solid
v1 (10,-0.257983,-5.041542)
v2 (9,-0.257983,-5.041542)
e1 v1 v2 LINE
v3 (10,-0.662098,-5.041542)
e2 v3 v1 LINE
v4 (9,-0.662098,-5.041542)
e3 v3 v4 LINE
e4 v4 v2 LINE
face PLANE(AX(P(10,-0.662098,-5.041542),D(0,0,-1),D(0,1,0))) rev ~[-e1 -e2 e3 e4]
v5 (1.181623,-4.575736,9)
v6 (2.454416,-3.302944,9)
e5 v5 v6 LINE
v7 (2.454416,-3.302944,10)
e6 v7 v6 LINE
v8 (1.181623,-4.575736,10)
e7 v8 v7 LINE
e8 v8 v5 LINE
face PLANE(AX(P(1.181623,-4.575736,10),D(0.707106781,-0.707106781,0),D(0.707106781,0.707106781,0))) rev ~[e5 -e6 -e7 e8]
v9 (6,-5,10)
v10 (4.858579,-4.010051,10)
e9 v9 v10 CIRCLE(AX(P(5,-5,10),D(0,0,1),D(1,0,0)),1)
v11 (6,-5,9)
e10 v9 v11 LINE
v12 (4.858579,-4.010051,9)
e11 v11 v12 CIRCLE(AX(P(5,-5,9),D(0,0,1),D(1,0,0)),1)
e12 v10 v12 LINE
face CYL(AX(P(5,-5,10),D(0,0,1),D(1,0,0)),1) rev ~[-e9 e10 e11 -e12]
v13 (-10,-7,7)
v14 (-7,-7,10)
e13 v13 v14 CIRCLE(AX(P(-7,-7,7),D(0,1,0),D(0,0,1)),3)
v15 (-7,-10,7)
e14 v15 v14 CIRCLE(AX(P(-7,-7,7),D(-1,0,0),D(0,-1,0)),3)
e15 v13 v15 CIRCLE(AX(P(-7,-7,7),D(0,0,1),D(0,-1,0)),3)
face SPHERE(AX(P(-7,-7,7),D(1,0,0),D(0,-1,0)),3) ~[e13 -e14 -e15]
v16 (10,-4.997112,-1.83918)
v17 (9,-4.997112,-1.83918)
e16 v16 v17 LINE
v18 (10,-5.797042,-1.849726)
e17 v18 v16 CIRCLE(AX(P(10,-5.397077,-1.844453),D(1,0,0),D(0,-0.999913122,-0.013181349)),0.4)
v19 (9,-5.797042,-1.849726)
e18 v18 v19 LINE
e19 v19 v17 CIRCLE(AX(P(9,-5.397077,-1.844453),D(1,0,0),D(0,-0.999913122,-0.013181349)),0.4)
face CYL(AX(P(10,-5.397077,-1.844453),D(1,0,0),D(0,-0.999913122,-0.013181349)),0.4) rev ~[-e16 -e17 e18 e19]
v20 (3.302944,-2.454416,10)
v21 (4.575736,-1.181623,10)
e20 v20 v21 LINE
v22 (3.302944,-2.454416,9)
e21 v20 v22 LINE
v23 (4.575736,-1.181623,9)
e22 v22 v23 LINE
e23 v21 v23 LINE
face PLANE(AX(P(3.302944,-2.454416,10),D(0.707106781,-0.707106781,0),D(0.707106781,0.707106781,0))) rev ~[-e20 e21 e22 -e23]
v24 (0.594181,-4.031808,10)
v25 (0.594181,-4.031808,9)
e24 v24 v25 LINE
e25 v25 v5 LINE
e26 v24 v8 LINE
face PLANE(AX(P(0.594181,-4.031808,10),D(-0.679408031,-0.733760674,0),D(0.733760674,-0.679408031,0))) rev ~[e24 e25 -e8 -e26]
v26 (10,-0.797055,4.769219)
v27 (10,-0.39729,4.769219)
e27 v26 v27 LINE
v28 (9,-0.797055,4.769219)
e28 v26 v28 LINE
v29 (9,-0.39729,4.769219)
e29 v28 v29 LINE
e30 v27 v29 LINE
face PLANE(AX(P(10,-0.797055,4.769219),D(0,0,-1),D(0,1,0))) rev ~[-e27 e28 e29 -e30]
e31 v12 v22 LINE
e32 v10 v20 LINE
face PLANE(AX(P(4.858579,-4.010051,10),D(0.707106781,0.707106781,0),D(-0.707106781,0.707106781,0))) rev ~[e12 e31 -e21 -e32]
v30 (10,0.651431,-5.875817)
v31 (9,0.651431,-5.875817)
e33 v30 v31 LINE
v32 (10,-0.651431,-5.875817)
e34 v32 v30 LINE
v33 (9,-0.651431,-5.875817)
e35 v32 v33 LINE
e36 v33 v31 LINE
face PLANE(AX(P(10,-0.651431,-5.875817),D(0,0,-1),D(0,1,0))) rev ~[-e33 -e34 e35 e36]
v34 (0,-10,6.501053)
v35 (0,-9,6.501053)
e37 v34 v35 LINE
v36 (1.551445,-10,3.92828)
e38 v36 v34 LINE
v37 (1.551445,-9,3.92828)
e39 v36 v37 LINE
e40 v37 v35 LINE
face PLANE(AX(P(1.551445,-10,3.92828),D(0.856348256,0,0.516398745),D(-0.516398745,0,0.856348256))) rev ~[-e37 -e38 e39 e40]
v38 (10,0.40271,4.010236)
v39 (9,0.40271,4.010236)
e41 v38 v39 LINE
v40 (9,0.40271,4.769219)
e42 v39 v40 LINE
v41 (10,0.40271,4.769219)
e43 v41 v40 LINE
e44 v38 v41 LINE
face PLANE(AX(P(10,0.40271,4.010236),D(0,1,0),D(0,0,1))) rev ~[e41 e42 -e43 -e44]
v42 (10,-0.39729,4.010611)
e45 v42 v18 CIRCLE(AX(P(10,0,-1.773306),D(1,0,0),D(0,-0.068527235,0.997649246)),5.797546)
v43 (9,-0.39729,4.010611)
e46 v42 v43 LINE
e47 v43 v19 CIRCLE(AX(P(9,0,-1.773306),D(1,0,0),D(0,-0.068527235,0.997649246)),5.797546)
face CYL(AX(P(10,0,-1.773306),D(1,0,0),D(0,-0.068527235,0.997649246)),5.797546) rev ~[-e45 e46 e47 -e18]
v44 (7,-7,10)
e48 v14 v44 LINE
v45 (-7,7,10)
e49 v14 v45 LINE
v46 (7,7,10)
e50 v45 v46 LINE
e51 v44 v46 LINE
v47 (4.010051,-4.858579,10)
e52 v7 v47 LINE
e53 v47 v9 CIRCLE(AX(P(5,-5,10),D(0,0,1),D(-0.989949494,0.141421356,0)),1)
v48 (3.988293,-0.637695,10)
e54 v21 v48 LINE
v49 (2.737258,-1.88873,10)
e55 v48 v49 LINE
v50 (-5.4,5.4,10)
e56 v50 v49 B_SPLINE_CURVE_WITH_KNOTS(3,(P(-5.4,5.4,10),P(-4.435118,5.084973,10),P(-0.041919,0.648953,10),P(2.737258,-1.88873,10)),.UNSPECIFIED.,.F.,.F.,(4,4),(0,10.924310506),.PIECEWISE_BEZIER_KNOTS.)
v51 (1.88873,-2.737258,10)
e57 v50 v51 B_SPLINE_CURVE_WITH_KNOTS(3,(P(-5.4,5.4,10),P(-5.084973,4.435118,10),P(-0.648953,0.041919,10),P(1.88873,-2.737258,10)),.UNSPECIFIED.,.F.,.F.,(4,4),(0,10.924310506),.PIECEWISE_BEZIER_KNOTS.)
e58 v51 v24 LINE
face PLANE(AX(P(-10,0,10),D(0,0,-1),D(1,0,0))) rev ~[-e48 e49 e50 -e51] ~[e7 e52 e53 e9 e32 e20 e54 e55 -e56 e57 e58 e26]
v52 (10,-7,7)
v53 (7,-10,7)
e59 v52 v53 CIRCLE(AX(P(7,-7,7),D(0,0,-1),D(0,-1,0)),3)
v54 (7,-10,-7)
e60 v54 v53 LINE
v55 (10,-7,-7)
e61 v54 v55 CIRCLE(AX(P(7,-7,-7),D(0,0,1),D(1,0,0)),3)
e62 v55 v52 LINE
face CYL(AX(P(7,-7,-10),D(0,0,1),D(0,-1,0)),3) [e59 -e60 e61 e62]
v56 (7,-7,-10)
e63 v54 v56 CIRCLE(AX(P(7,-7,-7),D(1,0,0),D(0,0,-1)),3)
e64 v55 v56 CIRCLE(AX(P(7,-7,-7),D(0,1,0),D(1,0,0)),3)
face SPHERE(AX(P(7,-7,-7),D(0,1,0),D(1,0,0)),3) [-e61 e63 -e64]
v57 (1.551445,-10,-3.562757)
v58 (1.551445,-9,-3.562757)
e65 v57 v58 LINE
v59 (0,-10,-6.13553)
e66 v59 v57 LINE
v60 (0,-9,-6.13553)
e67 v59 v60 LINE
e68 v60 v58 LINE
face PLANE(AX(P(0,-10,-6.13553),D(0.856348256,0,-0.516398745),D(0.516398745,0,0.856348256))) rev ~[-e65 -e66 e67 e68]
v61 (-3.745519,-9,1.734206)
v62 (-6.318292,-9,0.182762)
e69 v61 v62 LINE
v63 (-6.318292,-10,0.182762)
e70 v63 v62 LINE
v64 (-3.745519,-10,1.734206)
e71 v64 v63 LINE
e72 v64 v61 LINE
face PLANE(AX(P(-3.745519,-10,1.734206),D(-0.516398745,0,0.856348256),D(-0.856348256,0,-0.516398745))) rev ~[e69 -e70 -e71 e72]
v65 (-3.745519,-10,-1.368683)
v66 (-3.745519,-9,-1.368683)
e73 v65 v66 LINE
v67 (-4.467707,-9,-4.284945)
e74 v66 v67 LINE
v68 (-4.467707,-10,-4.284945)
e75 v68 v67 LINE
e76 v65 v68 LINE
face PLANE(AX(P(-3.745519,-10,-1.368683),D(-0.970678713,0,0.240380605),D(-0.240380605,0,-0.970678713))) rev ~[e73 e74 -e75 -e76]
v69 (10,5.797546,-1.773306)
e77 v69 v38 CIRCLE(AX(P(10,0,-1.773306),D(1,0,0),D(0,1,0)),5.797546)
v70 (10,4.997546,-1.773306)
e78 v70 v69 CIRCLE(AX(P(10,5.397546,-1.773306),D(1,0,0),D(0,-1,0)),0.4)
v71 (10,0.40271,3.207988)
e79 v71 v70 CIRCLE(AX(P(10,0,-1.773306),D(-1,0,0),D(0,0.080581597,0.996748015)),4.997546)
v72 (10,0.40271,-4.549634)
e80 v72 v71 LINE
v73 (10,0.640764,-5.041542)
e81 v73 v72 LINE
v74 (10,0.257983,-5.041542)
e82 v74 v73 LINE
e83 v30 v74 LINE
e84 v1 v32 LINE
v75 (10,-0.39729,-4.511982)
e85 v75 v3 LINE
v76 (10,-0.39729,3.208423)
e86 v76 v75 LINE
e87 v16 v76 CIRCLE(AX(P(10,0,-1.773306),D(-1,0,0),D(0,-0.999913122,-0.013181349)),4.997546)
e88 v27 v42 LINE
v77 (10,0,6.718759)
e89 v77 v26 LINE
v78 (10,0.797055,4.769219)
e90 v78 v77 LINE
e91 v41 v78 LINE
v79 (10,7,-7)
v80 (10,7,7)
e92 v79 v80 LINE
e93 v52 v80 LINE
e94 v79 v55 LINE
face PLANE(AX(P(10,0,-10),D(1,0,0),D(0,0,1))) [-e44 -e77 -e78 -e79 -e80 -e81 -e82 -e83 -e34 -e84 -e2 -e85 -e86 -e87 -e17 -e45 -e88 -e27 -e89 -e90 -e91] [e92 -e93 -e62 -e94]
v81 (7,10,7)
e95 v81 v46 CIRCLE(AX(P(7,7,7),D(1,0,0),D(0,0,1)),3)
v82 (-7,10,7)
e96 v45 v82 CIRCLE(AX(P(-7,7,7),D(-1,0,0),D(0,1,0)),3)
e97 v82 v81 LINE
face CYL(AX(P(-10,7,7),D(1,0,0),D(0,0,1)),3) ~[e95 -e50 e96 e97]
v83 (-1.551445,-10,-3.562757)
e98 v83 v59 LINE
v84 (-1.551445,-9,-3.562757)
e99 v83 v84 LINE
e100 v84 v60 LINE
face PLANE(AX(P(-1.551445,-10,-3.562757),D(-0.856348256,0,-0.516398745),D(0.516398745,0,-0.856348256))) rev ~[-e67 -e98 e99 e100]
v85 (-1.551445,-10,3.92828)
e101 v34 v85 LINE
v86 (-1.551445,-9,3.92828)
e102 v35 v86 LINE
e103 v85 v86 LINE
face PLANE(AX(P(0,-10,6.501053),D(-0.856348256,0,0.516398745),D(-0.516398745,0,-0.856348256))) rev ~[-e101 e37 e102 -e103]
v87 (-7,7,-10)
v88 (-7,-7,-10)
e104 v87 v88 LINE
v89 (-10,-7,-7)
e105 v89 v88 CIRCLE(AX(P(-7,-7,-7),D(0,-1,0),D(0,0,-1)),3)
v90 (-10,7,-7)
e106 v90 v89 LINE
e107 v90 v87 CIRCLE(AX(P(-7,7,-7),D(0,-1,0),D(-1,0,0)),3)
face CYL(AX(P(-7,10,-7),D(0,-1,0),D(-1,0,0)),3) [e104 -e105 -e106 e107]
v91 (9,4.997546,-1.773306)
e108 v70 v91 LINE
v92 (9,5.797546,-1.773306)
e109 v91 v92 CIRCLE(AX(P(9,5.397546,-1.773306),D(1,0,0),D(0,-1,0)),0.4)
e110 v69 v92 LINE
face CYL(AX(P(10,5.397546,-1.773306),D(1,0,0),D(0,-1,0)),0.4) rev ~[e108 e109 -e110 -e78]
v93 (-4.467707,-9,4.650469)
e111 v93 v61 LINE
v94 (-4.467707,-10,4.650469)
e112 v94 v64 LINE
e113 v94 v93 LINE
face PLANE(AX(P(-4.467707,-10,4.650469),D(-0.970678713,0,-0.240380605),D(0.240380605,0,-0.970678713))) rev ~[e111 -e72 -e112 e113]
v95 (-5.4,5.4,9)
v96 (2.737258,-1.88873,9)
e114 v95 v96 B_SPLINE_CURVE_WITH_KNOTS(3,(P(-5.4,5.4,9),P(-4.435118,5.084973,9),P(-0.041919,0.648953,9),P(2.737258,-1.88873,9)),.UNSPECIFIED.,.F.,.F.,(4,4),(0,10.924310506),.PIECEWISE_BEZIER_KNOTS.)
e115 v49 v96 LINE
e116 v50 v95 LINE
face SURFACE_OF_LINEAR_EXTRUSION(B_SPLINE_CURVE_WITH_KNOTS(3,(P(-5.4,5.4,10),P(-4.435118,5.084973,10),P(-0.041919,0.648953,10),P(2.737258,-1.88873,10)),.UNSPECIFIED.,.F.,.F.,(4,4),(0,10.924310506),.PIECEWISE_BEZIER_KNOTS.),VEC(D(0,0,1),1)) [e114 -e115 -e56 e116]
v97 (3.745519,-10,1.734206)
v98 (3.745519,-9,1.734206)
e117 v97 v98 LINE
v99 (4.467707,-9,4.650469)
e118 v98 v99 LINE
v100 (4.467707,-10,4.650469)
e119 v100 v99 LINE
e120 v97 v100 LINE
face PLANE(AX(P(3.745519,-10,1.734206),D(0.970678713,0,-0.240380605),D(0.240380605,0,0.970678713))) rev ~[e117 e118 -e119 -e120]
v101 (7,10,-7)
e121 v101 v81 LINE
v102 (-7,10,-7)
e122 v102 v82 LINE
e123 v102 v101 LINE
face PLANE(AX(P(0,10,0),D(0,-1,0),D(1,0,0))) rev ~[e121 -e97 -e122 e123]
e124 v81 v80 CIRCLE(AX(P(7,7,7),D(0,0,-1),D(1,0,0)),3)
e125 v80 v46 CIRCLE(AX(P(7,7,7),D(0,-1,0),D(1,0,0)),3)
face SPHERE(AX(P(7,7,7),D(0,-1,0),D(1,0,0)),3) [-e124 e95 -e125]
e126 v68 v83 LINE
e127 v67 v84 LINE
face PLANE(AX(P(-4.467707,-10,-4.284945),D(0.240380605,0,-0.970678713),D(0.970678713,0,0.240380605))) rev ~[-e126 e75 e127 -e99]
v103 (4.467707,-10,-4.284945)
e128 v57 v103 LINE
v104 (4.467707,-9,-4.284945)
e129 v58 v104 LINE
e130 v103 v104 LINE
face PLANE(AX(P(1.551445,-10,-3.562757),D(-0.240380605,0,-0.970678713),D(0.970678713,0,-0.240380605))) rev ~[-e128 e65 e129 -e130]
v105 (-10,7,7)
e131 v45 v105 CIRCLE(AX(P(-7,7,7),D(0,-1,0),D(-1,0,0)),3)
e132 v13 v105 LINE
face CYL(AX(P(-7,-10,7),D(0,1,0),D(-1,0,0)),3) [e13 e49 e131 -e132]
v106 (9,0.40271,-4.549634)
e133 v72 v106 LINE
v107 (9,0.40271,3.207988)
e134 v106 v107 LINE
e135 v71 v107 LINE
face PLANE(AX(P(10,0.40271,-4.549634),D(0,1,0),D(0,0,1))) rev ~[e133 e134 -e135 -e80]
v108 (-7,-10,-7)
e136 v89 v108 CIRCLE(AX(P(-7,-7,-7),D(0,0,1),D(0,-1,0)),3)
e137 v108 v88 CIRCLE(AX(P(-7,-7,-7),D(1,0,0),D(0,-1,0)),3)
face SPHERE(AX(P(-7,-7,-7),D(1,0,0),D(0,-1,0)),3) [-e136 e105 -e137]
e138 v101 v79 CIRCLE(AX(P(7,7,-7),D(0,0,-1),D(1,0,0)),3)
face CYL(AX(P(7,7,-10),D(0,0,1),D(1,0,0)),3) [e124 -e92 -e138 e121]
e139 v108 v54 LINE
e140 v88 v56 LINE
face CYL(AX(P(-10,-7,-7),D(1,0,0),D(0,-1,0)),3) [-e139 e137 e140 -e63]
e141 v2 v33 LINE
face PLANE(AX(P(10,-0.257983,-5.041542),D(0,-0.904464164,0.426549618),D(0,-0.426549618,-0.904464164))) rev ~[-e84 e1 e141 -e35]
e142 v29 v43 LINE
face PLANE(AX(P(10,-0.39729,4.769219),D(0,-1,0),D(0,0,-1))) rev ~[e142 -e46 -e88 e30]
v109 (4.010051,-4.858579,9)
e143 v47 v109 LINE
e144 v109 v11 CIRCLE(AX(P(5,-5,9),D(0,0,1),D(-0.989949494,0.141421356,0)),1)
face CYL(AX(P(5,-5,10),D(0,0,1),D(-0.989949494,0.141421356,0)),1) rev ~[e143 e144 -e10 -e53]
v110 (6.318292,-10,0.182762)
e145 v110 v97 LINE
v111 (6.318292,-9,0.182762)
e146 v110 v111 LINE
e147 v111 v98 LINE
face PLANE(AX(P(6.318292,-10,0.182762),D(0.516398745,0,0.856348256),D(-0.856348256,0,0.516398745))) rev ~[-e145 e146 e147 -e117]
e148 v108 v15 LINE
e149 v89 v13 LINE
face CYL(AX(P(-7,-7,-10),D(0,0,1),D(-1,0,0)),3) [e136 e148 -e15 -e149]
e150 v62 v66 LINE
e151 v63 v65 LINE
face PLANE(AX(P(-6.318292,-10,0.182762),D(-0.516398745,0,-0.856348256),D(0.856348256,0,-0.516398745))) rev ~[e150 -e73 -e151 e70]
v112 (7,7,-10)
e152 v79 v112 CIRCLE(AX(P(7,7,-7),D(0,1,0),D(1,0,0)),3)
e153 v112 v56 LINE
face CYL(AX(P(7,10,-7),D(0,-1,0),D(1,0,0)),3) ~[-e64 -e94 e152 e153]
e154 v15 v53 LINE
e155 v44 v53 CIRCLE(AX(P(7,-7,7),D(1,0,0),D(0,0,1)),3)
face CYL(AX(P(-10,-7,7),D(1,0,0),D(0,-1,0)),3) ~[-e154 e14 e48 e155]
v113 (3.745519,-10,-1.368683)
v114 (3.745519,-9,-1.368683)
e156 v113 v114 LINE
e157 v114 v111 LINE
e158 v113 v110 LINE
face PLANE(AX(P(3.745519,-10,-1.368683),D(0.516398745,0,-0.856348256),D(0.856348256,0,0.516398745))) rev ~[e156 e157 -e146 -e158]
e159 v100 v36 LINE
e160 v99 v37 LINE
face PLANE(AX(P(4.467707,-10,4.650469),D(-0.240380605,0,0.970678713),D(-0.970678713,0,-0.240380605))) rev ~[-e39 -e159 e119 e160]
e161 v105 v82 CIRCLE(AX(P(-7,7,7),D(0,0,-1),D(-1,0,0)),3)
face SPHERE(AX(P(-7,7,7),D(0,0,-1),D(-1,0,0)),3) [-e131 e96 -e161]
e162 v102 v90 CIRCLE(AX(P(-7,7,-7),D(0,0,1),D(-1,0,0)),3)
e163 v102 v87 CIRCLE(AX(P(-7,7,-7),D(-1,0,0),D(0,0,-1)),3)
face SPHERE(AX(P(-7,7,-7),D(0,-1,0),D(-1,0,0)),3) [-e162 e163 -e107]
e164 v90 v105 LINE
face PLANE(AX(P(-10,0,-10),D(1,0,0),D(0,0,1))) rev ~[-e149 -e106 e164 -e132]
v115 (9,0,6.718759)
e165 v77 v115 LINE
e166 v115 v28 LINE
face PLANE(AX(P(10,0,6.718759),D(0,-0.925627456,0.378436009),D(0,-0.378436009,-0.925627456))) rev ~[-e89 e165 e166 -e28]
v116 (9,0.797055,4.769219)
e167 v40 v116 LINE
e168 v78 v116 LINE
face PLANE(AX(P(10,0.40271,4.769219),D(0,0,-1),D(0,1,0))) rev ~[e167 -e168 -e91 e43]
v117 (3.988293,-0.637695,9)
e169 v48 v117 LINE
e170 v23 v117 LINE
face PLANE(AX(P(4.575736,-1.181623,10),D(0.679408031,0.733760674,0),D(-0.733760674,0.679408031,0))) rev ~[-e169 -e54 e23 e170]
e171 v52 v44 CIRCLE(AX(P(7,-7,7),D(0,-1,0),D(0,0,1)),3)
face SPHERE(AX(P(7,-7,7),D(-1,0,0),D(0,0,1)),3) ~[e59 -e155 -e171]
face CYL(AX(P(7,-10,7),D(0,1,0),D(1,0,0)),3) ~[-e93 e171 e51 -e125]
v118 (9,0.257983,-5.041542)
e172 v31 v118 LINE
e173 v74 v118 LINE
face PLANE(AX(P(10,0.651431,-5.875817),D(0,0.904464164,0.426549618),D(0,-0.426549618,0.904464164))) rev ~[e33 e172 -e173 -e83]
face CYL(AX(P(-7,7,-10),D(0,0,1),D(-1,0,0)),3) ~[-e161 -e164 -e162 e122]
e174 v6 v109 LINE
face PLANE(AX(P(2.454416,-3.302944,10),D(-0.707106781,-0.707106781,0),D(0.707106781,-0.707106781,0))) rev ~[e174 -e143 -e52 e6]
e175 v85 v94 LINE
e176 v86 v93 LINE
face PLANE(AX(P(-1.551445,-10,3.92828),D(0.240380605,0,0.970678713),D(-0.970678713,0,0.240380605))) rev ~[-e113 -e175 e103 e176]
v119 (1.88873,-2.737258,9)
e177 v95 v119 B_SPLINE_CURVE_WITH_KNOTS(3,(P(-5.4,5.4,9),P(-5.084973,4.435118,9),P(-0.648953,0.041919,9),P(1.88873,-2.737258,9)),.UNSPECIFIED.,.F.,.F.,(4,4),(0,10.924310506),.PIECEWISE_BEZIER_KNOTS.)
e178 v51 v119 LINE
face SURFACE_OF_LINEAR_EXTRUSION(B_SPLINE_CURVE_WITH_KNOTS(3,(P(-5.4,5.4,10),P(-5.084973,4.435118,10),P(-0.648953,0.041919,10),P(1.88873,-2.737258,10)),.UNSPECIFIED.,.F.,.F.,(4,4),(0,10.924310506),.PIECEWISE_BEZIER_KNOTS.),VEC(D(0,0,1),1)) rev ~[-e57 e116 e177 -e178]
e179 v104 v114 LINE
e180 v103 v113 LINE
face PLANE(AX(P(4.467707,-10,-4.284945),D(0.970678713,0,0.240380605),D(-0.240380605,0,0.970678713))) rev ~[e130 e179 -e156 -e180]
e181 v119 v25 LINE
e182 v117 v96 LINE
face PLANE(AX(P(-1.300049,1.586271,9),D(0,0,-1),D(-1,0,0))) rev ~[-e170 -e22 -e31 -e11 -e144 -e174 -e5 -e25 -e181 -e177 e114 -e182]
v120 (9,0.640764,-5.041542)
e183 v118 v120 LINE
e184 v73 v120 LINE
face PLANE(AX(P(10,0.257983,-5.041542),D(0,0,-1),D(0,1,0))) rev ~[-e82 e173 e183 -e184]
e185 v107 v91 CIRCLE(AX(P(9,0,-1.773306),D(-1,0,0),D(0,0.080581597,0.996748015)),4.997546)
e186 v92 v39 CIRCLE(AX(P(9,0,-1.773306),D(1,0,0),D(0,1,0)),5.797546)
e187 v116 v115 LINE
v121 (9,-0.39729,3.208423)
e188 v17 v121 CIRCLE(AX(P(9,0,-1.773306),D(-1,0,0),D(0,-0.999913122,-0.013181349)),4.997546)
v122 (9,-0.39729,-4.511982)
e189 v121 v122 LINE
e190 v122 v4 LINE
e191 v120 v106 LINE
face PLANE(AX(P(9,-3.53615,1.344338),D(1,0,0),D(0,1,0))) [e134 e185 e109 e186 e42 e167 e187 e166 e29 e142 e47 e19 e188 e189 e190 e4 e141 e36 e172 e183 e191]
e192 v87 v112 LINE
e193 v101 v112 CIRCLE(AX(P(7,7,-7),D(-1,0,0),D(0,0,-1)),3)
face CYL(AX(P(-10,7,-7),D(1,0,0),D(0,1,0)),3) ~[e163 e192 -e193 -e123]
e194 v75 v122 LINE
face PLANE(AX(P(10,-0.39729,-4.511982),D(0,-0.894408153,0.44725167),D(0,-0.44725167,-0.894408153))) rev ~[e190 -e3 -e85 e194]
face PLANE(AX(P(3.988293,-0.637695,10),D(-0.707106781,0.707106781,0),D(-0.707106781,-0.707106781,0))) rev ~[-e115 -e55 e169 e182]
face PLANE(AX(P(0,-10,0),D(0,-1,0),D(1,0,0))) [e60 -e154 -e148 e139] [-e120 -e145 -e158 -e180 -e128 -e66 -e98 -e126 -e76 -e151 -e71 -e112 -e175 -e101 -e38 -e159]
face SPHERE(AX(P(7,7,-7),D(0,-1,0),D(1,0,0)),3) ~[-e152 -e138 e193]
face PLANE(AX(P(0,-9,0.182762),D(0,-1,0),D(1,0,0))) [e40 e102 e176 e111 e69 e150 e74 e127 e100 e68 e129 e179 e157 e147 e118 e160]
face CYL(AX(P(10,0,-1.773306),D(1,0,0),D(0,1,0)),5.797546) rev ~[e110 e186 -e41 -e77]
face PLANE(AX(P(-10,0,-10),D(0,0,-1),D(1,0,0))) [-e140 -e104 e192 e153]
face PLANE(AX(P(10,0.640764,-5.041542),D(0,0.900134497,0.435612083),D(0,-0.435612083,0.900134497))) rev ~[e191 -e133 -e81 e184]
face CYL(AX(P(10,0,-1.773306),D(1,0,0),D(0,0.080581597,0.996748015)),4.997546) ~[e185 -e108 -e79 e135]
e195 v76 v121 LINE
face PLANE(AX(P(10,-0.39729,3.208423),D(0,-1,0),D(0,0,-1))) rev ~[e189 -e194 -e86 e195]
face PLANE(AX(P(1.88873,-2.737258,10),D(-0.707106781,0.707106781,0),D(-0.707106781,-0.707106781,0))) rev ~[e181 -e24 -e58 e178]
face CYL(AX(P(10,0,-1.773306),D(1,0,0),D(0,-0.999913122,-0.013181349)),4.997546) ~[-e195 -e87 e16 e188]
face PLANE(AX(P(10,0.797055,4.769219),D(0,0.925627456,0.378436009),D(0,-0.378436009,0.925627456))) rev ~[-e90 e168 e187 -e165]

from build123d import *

# Parameters (mm, degrees)
F0_W     = 20
F0_H     = 20
F1_DEPTH = 10
F2_R     = 3
F4_DEPTH = 1
F6_DEPTH = 1
F8_DEPTH = 1


with BuildPart() as f1:
    # F0 (on Front) → F1 (new body, symmetric)
    with BuildSketch(Plane.XZ):
        Rectangle(F0_W, F0_H)
    extrude(amount=F1_DEPTH, both=True)

    # F2
    f2_edges = [f1.edges().sort_by_distance(p)[0] for p in [
        (0, -10, 10),
        (10, 0, 10),
        (10, 0, -10),
        (10, 10, 0),
        (10, -10, 0),
        (0, -10, -10),
        (-10, -10, 0),
        (-10, 0, -10),
        (-10, 10, 0),
        (-10, 0, 10),
        (0, 10, 10),
        (0, 10, -10),
    ]]
    fillet(f2_edges, radius=F2_R)

    # F3 (on face) → F4 (cut)
    with BuildSketch(Plane.XZ.offset(10)):
        Polygon((1.5514445915, 3.9282802226), (0, 6.5010534599), (-1.5514445915, 3.9282802226), (-4.4677069853, 4.6504686339), (-3.745518574, 1.73420624), (-6.3182918114, 0.1827616486), (-3.745518574, -1.3686829429), (-4.4677069853, -4.2849453368), (-1.5514445915, -3.5627569255), (0, -6.1355301628), (1.5514445915, -3.5627569255), (4.4677069853, -4.2849453368), (3.745518574, -1.3686829429), (6.3182918114, 0.1827616486), (3.745518574, 1.73420624), (4.4677069853, 4.6504686339), align=None)
    extrude(amount=-F4_DEPTH, mode=Mode.SUBTRACT)

    # F5 (on face) → F6 (cut)
    with BuildSketch(Plane.YZ.offset(10)):
        with BuildLine():
            ThreePointArc((-0.3972897799, 4.0106111269), (-4.2636044951, 2.1552068742), (-5.7970421051, -1.849725524))
            ThreePointArc((-5.7970421051, -1.849725524), (-5.3918043168, -2.2444182335), (-4.9971116073, -1.8391804452))
            ThreePointArc((-4.9971116073, -1.8391804452), (-3.6938417401, 1.5928485864), (-0.3972897799, 3.2084230334))
            Line((-0.3972897799, 3.2084230334), (-0.3972897799, 4.0106111269))
        make_face()
        with BuildLine():
            Line((-0.3972897799, 4.7692186199), (-0.3972897799, 4.0106111269))
            ThreePointArc((-0.3972897799, 4.0106111269), (0.0027166939, 4.0242390941), (0.4027102201, 4.0102362518))
            Line((0.4027102201, 4.0102362518), (0.4027102201, 4.7692186199))
            Line((0.4027102201, 4.7692186199), (-0.3972897799, 4.7692186199))
        make_face()
        with BuildLine():
            ThreePointArc((0.4027102201, 4.0102362518), (0.0027166939, 4.0242390941), (-0.3972897799, 4.0106111269))
            Line((-0.3972897799, 4.0106111269), (-0.3972897799, 3.2084230334))
            ThreePointArc((-0.3972897799, 3.2084230334), (0.0027189433, 3.224238991), (0.4027102201, 3.2079877888))
            Line((0.4027102201, 3.2079877888), (0.4027102201, 4.0102362518))
        make_face()
        with BuildLine():
            ThreePointArc((5.7975457828, -1.7733060522), (4.2394733188, 2.1812360304), (0.4027102201, 4.0102362518))
            Line((0.4027102201, 4.0102362518), (0.4027102201, 3.2079877888))
            ThreePointArc((0.4027102201, 3.2079877888), (3.6734198381, 1.6151228676), (4.9975457828, -1.7733060522))
            ThreePointArc((4.9975457828, -1.7733060522), (5.3975457828, -2.1733060522), (5.7975457828, -1.7733060522))
        make_face()
        Polygon((-0.7970554871, 4.7692186199), (-0.3972897799, 4.7692186199), (0.4027102201, 4.7692186199), (0.7970554871, 4.7692186199), (0, 6.718759425), align=None)
        with BuildLine():
            ThreePointArc((0.4027102201, 3.2079877888), (0.0027189433, 3.224238991), (-0.3972897799, 3.2084230334))
            Line((-0.3972897799, 3.2084230334), (-0.3972897799, -4.5119822188))
            Line((-0.3972897799, -4.5119822188), (0, -3.7174872123))
            Line((0, -3.7174872123), (0.4027102201, -4.5496343811))
            Line((0.4027102201, -4.5496343811), (0.4027102201, 3.2079877888))
        make_face()
        Polygon((0, -3.7174872123), (-0.3972897799, -4.5119822188), (-0.6620978093, -5.0415419197), (-0.2579830259, -5.0415419197), (0, -4.4945096597), (0.2579830259, -5.0415419197), (0.6407644978, -5.0415419197), (0.4027102201, -4.5496343811), align=None)
        Polygon((0.2579830259, -5.0415419197), (-0.2579830259, -5.0415419197), (-0.6514311535, -5.8758170344), (0.6514311535, -5.8758170344), align=None)
        Polygon((0, -4.4945096597), (-0.2579830259, -5.0415419197), (0.2579830259, -5.0415419197), align=None)
    extrude(amount=-F6_DEPTH, mode=Mode.SUBTRACT)

    # F7 (on face) → F8 (cut)
    with BuildSketch(Plane.XY.offset(10)):
        with BuildLine():
            add(Edge.make_bspline(
                [(-5.4, 5.4), (-4.435118036, 5.0849730425), (-0.0419186137, 0.6489528576), (2.7372583002, -1.8887301628)],
                knots=[0, 0, 0, 0, 10.9243105059, 10.9243105059, 10.9243105059, 10.9243105059], degree=3))
            Line((-5.4, 5.4), (2.3129942315, -2.3129942315))
            Line((2.3129942315, -2.3129942315), (2.7372583002, -1.8887301628))
        make_face()
        with BuildLine():
            Line((2.3129942315, -2.3129942315), (-5.4, 5.4))
            add(Edge.make_bspline(
                [(-5.4, 5.4), (-5.0849730425, 4.435118036), (-0.6489528576, 0.0419186137), (1.8887301628, -2.7372583002)],
                knots=[0, 0, 0, 0, 10.9243105059, 10.9243105059, 10.9243105059, 10.9243105059], degree=3))
            Line((1.8887301628, -2.7372583002), (2.3129942315, -2.3129942315))
        make_face()
        Polygon((2.7372583002, -1.8887301628), (2.3129942315, -2.3129942315), (2.8786796564, -2.8786796564), (3.3029437252, -2.4544155877), (4.5757359313, -1.1816233816), (3.9882933746, -0.6376950884), align=None)
        Polygon((2.8786796564, -2.8786796564), (2.3129942315, -2.3129942315), (1.8887301628, -2.7372583002), (0.5941808249, -4.0318076381), (1.1816233816, -4.5757359313), (2.4544155877, -3.3029437252), align=None)
        with BuildLine():
            Line((3.3029437252, -2.4544155877), (2.8786796564, -2.8786796564))
            Line((2.8786796564, -2.8786796564), (4.2928932188, -4.2928932188))
            ThreePointArc((4.2928932188, -4.2928932188), (4.5527864045, -4.105572809), (4.8585786438, -4.0100505063))
            Line((4.8585786438, -4.0100505063), (3.3029437252, -2.4544155877))
        make_face()
        with BuildLine():
            Line((4.2928932188, -4.2928932188), (2.8786796564, -2.8786796564))
            Line((2.8786796564, -2.8786796564), (2.4544155877, -3.3029437252))
            Line((2.4544155877, -3.3029437252), (4.0100505063, -4.8585786438))
            ThreePointArc((4.0100505063, -4.8585786438), (4.105572809, -4.5527864045), (4.2928932188, -4.2928932188))
        make_face()
        with BuildLine():
            ThreePointArc((4.8585786438, -4.0100505063), (4.5527864045, -4.105572809), (4.2928932188, -4.2928932188))
            Line((4.2928932188, -4.2928932188), (4.4343145751, -4.4343145751))
            Line((4.4343145751, -4.4343145751), (4.8585786438, -4.0100505063))
        make_face()
        with BuildLine():
            Line((4.4343145751, -4.4343145751), (4.2928932188, -4.2928932188))
            ThreePointArc((4.2928932188, -4.2928932188), (4.105572809, -4.5527864045), (4.0100505063, -4.8585786438))
            Line((4.0100505063, -4.8585786438), (4.4343145751, -4.4343145751))
        make_face()
        with BuildLine():
            Line((4.8585786438, -4.0100505063), (4.4343145751, -4.4343145751))
            Line((4.4343145751, -4.4343145751), (4.0100505063, -4.8585786438))
            ThreePointArc((4.0100505063, -4.8585786438), (4.9291109799, -5.9974842088), (6, -5))
            ThreePointArc((6, -5), (5.6552017414, -4.244546045), (4.8585786438, -4.0100505063))
        make_face()
    extrude(amount=-F8_DEPTH, mode=Mode.SUBTRACT)


solid = f1.part
